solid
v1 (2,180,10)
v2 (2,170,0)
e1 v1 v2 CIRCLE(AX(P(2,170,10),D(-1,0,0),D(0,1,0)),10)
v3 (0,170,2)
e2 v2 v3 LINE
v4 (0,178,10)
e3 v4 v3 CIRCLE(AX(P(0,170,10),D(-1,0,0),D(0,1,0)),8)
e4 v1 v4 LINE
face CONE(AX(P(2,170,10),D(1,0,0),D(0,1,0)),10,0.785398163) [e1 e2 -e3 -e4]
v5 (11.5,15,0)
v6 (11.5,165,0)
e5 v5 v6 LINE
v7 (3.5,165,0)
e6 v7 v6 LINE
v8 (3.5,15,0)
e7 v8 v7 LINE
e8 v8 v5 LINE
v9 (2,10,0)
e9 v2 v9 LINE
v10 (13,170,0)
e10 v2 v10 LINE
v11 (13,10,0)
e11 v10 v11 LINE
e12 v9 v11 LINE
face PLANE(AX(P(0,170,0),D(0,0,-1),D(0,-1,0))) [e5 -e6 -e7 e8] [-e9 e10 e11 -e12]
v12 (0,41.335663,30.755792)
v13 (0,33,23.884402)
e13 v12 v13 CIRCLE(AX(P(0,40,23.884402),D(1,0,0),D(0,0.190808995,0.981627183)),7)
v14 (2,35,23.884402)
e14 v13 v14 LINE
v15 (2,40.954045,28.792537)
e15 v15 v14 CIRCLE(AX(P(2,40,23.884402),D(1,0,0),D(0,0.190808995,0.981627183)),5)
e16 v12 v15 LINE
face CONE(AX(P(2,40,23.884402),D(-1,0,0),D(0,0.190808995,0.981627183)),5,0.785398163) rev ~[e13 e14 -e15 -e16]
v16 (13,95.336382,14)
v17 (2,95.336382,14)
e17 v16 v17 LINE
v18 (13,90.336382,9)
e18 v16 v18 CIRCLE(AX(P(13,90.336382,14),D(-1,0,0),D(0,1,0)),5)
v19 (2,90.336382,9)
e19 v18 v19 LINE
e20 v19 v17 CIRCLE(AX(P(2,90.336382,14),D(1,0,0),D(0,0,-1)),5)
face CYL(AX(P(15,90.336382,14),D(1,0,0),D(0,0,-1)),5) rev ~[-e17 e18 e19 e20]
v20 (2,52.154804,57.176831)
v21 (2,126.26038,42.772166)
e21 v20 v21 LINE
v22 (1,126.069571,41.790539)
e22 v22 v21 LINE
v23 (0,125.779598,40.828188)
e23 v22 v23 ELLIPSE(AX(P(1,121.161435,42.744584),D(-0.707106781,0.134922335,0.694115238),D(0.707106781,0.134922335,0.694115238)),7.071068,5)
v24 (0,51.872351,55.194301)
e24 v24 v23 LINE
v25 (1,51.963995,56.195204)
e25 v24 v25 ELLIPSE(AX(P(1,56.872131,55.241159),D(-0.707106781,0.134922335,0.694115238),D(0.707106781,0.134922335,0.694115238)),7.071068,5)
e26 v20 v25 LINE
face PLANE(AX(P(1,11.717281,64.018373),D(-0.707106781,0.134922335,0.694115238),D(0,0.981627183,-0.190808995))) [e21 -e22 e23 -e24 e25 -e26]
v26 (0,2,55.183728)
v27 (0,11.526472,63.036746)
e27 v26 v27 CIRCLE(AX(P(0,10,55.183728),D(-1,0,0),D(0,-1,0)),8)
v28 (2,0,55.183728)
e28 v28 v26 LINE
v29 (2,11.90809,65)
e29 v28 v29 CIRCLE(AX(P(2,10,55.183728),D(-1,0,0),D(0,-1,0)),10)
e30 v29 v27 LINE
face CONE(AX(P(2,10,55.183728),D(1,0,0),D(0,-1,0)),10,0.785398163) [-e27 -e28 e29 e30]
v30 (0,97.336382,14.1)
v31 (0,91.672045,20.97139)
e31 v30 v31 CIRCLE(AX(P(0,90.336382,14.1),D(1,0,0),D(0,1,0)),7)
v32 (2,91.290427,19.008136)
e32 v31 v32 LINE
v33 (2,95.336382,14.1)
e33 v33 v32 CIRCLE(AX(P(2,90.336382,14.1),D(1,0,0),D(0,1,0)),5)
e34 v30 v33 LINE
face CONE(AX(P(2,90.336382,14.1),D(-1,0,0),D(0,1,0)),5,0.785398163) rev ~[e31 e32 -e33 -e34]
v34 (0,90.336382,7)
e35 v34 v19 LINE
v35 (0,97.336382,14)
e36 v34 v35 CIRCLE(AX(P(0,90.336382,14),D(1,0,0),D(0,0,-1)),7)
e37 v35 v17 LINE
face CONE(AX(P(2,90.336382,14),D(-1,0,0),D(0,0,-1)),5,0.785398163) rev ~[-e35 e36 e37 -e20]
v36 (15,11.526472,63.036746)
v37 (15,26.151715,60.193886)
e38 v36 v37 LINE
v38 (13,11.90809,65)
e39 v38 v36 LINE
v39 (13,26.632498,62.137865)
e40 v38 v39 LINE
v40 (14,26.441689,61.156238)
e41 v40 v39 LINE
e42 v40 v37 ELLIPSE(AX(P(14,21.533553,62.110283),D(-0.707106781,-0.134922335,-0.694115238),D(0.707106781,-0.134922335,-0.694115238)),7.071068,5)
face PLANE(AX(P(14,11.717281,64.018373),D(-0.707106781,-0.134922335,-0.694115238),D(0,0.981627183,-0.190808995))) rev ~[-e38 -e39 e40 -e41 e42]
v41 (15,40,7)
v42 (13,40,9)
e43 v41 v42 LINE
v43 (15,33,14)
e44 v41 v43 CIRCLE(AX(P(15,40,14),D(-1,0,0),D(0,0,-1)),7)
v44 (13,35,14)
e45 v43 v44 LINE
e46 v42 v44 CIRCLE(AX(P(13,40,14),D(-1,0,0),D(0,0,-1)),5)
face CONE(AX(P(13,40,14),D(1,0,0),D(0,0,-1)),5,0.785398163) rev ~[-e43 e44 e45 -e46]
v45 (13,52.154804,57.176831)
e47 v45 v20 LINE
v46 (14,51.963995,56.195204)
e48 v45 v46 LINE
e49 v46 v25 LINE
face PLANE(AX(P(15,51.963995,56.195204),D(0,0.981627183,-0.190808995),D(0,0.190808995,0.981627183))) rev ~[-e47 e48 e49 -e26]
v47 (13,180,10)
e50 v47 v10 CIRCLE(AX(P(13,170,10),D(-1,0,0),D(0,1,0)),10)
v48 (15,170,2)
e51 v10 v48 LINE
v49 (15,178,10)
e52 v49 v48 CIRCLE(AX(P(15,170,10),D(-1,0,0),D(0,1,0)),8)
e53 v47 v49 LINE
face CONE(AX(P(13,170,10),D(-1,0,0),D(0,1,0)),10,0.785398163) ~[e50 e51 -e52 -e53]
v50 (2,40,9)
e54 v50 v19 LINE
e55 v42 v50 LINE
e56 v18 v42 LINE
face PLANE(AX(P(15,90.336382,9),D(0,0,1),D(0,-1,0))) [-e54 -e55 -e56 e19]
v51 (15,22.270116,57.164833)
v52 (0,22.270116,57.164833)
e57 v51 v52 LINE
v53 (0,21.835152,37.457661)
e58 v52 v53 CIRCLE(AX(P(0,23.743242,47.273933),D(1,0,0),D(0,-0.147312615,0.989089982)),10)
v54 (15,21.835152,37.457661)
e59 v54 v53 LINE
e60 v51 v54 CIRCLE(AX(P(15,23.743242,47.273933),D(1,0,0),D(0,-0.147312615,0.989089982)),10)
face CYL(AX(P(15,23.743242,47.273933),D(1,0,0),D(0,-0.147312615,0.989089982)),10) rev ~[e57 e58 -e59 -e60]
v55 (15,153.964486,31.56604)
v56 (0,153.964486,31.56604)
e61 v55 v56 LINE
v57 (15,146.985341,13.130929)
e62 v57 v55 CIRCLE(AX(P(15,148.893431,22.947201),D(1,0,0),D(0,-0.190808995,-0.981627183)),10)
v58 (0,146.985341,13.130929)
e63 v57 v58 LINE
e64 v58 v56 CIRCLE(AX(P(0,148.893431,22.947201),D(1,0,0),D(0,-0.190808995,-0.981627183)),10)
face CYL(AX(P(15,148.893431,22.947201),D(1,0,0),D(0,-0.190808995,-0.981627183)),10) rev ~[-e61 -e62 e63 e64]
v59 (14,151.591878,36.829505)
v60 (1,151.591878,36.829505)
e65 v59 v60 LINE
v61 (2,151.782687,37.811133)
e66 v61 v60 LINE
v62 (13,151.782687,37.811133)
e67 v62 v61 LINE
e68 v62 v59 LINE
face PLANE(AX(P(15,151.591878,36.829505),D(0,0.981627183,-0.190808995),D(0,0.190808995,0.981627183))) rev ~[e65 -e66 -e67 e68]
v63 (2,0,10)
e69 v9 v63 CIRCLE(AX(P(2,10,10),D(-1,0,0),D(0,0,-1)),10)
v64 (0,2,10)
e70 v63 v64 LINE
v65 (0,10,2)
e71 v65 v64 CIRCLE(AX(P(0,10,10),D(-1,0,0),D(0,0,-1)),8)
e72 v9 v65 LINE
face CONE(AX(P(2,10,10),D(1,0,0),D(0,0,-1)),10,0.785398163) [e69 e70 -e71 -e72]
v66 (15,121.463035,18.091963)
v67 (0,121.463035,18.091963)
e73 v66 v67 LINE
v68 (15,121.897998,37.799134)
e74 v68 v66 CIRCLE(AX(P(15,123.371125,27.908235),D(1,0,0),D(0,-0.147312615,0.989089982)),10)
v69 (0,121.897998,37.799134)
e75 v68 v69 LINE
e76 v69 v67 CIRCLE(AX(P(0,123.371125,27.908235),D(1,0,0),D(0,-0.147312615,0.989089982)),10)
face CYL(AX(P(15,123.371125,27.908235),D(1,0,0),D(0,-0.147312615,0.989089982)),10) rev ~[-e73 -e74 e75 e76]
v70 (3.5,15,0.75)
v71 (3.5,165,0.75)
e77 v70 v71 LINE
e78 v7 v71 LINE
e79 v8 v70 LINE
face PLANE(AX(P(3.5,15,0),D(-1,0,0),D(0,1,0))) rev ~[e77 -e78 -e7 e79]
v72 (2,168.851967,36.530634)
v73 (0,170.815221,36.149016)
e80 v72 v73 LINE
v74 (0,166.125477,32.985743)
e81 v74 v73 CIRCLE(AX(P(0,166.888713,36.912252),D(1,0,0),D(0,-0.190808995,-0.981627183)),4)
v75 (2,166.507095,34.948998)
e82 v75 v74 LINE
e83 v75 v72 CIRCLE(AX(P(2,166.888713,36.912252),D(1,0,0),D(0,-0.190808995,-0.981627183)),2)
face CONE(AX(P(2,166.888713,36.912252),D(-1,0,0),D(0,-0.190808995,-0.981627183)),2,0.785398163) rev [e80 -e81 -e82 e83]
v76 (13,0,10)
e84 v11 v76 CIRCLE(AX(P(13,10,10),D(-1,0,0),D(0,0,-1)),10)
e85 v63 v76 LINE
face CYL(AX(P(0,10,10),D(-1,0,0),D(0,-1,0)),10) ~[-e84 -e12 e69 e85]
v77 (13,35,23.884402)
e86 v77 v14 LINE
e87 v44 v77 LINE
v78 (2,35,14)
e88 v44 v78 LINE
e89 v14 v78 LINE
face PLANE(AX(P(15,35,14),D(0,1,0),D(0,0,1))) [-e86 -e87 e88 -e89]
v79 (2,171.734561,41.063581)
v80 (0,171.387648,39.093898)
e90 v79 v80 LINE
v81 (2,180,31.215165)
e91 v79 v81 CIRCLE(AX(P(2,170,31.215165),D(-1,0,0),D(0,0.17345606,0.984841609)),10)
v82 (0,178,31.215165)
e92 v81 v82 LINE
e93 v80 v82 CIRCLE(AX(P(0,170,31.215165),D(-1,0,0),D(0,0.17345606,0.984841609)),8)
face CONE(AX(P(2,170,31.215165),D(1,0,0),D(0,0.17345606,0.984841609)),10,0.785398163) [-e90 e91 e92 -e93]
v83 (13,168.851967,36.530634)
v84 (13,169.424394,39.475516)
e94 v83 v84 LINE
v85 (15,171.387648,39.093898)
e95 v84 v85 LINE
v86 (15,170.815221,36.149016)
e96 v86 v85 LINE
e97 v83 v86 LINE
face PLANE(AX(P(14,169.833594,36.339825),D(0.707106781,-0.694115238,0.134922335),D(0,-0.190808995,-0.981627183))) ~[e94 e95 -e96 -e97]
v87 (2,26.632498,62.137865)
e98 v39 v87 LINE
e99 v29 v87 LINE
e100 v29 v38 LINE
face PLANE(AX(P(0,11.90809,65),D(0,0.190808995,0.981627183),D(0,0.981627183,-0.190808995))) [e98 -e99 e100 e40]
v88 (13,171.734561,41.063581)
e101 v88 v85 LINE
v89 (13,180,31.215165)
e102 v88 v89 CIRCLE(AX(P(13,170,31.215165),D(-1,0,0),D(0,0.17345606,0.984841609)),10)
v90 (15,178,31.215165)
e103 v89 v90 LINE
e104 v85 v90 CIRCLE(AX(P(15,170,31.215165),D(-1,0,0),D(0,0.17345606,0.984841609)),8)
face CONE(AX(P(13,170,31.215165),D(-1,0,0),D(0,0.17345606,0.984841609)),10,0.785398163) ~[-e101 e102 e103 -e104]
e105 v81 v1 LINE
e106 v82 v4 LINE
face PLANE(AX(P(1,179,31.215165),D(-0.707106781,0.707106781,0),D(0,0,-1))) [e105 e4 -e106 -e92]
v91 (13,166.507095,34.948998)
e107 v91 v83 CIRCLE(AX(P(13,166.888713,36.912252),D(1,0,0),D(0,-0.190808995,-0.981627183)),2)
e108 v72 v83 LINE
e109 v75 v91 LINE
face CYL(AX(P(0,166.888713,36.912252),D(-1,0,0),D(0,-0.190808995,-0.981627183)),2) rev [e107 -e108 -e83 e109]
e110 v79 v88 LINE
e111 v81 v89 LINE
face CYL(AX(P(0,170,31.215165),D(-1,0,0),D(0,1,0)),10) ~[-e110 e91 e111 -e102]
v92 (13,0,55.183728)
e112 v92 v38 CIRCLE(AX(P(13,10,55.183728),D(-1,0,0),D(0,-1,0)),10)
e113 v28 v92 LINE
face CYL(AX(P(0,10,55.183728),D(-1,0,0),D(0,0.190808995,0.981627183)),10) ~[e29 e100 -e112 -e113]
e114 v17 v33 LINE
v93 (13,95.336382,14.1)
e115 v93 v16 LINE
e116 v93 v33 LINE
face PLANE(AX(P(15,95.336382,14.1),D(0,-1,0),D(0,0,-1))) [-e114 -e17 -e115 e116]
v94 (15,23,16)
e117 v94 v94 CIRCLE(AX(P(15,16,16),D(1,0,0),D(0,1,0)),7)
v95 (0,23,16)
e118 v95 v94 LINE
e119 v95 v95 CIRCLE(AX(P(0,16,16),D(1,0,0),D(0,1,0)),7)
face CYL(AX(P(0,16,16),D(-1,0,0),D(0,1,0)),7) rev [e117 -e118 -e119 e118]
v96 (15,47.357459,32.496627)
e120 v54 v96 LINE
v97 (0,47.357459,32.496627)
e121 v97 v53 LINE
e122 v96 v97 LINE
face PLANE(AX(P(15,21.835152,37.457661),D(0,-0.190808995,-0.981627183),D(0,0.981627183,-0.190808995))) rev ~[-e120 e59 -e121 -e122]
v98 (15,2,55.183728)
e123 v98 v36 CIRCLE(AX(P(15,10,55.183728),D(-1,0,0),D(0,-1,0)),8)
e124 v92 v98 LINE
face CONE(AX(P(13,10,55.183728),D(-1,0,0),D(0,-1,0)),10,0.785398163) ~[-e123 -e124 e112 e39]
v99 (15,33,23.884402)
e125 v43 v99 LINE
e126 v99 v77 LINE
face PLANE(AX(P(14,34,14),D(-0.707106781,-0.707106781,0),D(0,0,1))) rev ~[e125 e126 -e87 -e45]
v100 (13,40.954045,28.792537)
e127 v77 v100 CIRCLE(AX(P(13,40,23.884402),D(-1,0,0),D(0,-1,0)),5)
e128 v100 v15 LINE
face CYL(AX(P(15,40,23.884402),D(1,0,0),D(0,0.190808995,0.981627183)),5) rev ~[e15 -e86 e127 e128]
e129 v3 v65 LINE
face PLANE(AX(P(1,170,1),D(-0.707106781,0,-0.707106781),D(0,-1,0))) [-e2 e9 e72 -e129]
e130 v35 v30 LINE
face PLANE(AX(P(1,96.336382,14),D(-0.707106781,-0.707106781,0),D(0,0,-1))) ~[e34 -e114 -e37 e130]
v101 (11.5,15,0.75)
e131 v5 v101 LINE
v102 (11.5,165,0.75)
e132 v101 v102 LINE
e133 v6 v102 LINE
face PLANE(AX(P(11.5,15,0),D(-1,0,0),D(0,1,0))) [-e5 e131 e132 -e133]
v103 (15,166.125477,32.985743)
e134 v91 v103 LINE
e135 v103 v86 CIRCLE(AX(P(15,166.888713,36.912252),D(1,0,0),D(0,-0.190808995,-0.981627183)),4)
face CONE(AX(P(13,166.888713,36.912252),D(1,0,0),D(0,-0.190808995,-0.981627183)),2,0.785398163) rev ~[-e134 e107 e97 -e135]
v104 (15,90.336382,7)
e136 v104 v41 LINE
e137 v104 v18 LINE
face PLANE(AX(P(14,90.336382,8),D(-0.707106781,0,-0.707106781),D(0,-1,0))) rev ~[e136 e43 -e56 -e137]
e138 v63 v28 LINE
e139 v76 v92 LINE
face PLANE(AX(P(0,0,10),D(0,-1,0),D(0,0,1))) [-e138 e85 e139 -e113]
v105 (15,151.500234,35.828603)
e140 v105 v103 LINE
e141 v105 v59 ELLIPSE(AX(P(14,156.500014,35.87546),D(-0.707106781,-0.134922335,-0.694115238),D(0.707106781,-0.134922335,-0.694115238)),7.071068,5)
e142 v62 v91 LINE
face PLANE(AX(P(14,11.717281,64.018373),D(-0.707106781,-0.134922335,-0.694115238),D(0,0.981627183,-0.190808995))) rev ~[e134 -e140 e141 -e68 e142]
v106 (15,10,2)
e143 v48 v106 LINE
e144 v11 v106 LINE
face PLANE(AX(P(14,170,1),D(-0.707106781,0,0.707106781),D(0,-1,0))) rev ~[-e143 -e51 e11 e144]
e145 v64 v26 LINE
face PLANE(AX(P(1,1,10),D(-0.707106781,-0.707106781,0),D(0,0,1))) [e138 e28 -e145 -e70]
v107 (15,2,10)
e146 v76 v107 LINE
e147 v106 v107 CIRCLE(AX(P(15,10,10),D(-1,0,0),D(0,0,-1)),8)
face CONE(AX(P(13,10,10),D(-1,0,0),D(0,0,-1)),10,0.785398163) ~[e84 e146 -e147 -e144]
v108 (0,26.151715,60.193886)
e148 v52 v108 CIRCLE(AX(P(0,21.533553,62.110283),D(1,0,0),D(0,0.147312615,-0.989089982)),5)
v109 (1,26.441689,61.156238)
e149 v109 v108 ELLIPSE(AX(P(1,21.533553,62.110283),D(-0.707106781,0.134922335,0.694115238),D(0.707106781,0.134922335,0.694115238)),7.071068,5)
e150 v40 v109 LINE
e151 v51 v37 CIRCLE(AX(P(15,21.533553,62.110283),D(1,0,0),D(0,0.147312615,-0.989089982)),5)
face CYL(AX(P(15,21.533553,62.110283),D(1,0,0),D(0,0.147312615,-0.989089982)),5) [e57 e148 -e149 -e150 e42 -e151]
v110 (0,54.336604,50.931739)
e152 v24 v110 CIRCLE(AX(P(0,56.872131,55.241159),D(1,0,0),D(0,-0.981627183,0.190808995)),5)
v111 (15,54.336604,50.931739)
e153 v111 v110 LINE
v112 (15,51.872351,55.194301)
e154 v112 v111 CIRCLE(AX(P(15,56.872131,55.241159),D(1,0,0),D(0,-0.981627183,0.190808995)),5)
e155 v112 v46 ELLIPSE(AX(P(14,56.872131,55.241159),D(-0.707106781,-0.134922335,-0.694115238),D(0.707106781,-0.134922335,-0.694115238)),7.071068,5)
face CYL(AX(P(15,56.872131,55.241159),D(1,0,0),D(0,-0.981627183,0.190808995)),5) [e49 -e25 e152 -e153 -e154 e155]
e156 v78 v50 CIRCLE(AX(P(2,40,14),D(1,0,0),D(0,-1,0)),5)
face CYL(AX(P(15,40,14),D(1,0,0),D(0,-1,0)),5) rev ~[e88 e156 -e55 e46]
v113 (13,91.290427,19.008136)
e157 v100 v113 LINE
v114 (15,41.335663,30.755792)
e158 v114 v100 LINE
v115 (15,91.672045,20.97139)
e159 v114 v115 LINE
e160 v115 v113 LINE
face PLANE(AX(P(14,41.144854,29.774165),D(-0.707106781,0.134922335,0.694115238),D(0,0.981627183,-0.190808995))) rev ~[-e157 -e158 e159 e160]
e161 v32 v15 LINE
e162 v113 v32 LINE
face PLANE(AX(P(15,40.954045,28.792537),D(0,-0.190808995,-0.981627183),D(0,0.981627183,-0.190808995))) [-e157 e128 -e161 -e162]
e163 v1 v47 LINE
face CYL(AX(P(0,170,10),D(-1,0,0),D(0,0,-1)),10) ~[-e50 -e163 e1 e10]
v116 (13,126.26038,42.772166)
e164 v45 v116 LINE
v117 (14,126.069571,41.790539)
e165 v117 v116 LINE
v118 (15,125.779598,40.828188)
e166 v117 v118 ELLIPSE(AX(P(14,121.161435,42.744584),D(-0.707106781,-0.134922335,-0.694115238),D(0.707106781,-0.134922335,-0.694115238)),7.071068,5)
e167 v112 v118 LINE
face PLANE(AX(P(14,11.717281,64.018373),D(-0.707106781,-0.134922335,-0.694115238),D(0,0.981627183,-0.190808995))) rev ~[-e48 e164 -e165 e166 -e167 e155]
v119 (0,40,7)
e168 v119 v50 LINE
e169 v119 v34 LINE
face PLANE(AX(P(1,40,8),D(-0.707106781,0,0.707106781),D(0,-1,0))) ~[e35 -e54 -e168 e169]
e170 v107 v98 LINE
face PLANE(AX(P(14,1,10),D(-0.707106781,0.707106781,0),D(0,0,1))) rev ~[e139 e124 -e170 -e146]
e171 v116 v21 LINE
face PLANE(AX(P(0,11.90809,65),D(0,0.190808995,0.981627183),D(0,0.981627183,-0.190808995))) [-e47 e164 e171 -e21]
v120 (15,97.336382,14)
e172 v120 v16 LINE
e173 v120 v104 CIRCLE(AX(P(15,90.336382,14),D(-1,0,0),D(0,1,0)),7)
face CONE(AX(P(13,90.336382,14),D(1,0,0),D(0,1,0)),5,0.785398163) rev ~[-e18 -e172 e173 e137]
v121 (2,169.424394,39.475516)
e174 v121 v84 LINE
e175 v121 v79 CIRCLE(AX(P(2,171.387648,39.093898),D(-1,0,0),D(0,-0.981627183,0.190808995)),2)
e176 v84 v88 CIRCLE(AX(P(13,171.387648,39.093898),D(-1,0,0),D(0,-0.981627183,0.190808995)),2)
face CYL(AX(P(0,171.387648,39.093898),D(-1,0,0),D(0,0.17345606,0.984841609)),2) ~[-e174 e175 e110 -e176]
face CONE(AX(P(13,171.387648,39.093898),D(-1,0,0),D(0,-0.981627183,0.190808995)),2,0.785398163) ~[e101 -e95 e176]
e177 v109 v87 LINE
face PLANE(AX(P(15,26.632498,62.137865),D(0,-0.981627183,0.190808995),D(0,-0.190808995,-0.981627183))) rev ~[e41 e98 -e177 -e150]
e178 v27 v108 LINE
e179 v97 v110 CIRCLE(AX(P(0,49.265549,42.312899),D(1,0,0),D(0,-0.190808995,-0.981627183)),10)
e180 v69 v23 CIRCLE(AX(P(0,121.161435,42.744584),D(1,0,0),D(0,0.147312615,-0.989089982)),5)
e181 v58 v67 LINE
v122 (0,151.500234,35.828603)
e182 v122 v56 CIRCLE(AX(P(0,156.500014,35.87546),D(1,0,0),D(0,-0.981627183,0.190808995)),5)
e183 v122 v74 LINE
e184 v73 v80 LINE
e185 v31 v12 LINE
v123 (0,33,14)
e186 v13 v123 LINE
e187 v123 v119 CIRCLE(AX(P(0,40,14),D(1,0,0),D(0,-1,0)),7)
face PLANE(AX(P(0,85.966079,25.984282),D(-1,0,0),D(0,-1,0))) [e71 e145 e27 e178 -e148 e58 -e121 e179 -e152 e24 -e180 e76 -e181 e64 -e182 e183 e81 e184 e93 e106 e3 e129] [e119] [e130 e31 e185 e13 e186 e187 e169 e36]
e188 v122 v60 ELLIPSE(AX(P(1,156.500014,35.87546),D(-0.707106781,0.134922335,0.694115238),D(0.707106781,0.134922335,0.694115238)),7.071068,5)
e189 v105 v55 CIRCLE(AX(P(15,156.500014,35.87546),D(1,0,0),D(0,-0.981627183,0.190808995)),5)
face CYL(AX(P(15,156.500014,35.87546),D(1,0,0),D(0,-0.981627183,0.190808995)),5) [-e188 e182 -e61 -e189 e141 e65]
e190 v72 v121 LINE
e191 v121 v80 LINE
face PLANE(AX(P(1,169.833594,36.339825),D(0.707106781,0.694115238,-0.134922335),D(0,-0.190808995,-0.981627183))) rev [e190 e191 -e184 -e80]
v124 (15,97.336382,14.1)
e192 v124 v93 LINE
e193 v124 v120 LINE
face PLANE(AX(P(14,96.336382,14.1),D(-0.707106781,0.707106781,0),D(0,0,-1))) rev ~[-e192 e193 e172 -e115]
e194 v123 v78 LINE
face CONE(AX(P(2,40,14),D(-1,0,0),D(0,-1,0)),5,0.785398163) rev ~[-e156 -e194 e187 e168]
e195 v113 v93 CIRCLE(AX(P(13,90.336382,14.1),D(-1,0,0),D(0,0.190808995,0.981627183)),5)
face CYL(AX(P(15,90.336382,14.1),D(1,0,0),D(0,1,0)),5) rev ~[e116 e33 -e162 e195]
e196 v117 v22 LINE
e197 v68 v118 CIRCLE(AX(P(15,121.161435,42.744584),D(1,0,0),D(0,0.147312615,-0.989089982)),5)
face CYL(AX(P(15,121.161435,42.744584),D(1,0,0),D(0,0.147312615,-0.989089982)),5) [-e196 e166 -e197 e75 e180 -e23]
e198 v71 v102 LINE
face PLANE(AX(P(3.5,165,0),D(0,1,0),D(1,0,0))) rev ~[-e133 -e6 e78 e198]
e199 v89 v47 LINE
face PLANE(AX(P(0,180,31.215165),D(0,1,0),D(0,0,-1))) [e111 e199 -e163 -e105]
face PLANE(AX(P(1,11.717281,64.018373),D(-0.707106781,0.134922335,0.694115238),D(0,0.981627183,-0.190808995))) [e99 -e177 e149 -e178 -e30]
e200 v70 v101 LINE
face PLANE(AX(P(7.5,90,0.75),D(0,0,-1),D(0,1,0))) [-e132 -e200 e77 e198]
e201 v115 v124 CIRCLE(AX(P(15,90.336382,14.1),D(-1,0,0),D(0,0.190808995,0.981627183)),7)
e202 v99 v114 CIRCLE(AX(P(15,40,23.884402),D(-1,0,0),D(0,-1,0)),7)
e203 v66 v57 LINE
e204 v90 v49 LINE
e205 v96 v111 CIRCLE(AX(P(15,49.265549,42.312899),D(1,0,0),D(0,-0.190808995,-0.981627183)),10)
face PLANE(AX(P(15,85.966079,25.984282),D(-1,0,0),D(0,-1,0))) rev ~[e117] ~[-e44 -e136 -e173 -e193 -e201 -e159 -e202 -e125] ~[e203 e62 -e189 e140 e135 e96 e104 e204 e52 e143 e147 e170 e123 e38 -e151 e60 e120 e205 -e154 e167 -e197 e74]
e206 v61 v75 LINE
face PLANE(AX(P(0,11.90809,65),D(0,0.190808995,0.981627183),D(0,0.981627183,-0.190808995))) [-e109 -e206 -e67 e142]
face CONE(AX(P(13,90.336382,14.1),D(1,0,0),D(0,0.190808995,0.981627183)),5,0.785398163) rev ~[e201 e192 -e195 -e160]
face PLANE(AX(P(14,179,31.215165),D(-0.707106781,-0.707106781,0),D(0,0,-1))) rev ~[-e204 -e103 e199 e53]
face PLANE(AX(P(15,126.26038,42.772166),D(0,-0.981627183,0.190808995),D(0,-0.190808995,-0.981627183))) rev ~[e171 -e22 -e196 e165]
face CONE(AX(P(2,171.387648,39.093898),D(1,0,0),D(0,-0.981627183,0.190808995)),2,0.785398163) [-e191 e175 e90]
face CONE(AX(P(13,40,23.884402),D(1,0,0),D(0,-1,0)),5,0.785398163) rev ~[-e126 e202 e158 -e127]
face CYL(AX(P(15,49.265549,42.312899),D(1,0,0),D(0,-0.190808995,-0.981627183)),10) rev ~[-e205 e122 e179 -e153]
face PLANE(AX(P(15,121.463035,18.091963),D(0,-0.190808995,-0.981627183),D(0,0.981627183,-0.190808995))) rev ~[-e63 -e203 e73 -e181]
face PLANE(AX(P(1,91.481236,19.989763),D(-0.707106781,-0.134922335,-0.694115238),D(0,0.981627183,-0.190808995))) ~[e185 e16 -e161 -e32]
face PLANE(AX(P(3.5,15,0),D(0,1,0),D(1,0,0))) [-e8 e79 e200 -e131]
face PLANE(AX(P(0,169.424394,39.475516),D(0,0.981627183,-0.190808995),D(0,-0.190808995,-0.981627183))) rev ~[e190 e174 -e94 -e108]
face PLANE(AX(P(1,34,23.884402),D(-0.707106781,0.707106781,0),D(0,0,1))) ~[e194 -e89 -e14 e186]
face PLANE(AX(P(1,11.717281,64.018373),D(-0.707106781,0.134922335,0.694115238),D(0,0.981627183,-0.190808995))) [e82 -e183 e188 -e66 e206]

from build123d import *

# Parameters (mm, degrees)
SKETCH_R        = 7
PAD_DEPTH       = 15
CHAMFER_SIZE    = 2
SKETCH003_W     = 150
SKETCH003_H     = 8
POCKET001_DEPTH = 0.75
POCKET002_DEPTH = 15.001
POCKET003_DEPTH = 15.001
CHAMFER002_SIZE = 2


with BuildPart() as part:
    # Sketch → Pad (new body)
    with BuildSketch(Plane.YZ):
        with BuildLine():
            Line((0, 10), (0, 55.1837281655))
            ThreePointArc((11.9080899538, 65), (3.6392177972, 62.8999739994), (0, 55.1837281655))
            Line((11.9080899538, 65), (166.5070947684, 34.9489976518))
            ThreePointArc((166.5070947684, 34.9489976518), (168.0070985661, 35.2541768735), (168.851967126, 36.5306340279))
            Line((169.4243941122, 39.4755155782), (168.851967126, 36.5306340279))
            ThreePointArc((171.7345605988, 41.063580806), (170.2546752416, 40.7420394634), (169.4243941122, 39.4755155782))
            ThreePointArc((180, 31.2151647136), (177.6598174256, 37.6437879725), (171.7345605988, 41.063580806))
            Line((180, 31.2151647136), (180, 10))
            ThreePointArc((170, 0), (177.0710678119, 2.9289321881), (180, 10))
            Line((170, 0), (10, 0))
            ThreePointArc((0, 10), (2.9289321881, 2.9289321881), (10, 0))
        make_face()
        with Locations((16, 16)):
            Circle(SKETCH_R, mode=Mode.SUBTRACT)
    extrude(amount=PAD_DEPTH)

    # Chamfer
    chamfer_edges = [part.edges().sort_by_distance(p)[0] for p in [
        (15, 90, 0),
        (0, 90, 0),
    ]]
    chamfer(chamfer_edges, length=CHAMFER_SIZE)

    # Sketch003 (on Face1 of Pad) → Pocket001 (cut)
    with BuildSketch(Plane.YX):
        with Locations((90, 7.5)):
            Rectangle(SKETCH003_W, SKETCH003_H)
    extrude(amount=-POCKET001_DEPTH, mode=Mode.SUBTRACT)

    # Sketch004 (on Face14 of Pad) → Pocket002 (cut, through all)
    with BuildSketch(Plane.YZ.offset(15)):
        with BuildLine():
            Line((21.8351520655, 37.4576612912), (47.3574588351, 32.4966274114))
            ThreePointArc((47.3574588351, 32.4966274114), (58.6177903834, 38.7723375448), (54.336603861, 50.9317391014))
            ThreePointArc((51.9639954797, 56.1952040061), (52.3138370776, 53.1864198979), (54.336603861, 50.9317391014))
            Line((51.9639954797, 56.1952040061), (52.1548044751, 57.1768311896))
            Line((52.1548044751, 57.1768311896), (26.6324977055, 62.1378650694))
            Line((26.6324977055, 62.1378650694), (26.4416887101, 61.1562378859))
            ThreePointArc((22.2701158683, 57.1648329504), (24.9902108638, 58.4975948081), (26.4416887101, 61.1562378859))
            ThreePointArc((22.2701158683, 57.1648329504), (13.7456768513, 47.4945928448), (21.8351520655, 37.4576612912))
        make_face()
        with BuildLine():
            Line((121.463034607, 18.091962684), (146.9853413767, 13.1309288042))
            ThreePointArc((146.9853413767, 13.1309288042), (158.2456729249, 19.4066389377), (153.9644864025, 31.5660404943))
            ThreePointArc((151.5918780213, 36.829505399), (151.9417196191, 33.8207212907), (153.9644864025, 31.5660404943))
            Line((151.5918780213, 36.829505399), (151.7826870167, 37.8111325824))
            Line((151.7826870167, 37.8111325824), (126.260380247, 42.7721664622))
            Line((126.260380247, 42.7721664622), (126.0695712516, 41.7905392787))
            ThreePointArc((121.8979984099, 37.7991343433), (124.6180934053, 39.1318962009), (126.0695712516, 41.7905392787))
            ThreePointArc((121.8979984099, 37.7991343433), (113.3735593928, 28.1288942377), (121.463034607, 18.091962684))
        make_face()
    extrude(amount=-POCKET002_DEPTH, mode=Mode.SUBTRACT)

    # Sketch005 (on Face14 of Pad) → Pocket003 (cut, through all)
    with BuildSketch(Plane.YZ.offset(15)):
        with BuildLine():
            Line((90.3363821208, 9), (40, 9))
            ThreePointArc((35, 14), (36.4644660941, 10.4644660941), (40, 9))
            Line((35, 14), (35, 23.8844015175))
            ThreePointArc((40.9540449769, 28.7925374348), (36.8196088986, 27.7425244345), (35, 23.8844015175))
            Line((40.9540449769, 28.7925374348), (91.2904270977, 19.0081359172))
            ThreePointArc((95.3363821208, 14.1), (94.1945050377, 17.2803911014), (91.2904270977, 19.0081359172))
            Line((95.3363821208, 14.1), (95.3363821208, 14))
            ThreePointArc((90.3363821208, 9), (93.8719160267, 10.4644660941), (95.3363821208, 14))
        make_face()
    extrude(amount=-POCKET003_DEPTH, mode=Mode.SUBTRACT)

    # Chamfer002
    chamfer002_edges = [part.edges().sort_by_distance(p)[0] for p in [
        (15, 66.122236, 23.900337),
        (0, 66.122236, 23.900337),
    ]]
    chamfer(chamfer002_edges, length=CHAMFER002_SIZE)


solid = part.part
